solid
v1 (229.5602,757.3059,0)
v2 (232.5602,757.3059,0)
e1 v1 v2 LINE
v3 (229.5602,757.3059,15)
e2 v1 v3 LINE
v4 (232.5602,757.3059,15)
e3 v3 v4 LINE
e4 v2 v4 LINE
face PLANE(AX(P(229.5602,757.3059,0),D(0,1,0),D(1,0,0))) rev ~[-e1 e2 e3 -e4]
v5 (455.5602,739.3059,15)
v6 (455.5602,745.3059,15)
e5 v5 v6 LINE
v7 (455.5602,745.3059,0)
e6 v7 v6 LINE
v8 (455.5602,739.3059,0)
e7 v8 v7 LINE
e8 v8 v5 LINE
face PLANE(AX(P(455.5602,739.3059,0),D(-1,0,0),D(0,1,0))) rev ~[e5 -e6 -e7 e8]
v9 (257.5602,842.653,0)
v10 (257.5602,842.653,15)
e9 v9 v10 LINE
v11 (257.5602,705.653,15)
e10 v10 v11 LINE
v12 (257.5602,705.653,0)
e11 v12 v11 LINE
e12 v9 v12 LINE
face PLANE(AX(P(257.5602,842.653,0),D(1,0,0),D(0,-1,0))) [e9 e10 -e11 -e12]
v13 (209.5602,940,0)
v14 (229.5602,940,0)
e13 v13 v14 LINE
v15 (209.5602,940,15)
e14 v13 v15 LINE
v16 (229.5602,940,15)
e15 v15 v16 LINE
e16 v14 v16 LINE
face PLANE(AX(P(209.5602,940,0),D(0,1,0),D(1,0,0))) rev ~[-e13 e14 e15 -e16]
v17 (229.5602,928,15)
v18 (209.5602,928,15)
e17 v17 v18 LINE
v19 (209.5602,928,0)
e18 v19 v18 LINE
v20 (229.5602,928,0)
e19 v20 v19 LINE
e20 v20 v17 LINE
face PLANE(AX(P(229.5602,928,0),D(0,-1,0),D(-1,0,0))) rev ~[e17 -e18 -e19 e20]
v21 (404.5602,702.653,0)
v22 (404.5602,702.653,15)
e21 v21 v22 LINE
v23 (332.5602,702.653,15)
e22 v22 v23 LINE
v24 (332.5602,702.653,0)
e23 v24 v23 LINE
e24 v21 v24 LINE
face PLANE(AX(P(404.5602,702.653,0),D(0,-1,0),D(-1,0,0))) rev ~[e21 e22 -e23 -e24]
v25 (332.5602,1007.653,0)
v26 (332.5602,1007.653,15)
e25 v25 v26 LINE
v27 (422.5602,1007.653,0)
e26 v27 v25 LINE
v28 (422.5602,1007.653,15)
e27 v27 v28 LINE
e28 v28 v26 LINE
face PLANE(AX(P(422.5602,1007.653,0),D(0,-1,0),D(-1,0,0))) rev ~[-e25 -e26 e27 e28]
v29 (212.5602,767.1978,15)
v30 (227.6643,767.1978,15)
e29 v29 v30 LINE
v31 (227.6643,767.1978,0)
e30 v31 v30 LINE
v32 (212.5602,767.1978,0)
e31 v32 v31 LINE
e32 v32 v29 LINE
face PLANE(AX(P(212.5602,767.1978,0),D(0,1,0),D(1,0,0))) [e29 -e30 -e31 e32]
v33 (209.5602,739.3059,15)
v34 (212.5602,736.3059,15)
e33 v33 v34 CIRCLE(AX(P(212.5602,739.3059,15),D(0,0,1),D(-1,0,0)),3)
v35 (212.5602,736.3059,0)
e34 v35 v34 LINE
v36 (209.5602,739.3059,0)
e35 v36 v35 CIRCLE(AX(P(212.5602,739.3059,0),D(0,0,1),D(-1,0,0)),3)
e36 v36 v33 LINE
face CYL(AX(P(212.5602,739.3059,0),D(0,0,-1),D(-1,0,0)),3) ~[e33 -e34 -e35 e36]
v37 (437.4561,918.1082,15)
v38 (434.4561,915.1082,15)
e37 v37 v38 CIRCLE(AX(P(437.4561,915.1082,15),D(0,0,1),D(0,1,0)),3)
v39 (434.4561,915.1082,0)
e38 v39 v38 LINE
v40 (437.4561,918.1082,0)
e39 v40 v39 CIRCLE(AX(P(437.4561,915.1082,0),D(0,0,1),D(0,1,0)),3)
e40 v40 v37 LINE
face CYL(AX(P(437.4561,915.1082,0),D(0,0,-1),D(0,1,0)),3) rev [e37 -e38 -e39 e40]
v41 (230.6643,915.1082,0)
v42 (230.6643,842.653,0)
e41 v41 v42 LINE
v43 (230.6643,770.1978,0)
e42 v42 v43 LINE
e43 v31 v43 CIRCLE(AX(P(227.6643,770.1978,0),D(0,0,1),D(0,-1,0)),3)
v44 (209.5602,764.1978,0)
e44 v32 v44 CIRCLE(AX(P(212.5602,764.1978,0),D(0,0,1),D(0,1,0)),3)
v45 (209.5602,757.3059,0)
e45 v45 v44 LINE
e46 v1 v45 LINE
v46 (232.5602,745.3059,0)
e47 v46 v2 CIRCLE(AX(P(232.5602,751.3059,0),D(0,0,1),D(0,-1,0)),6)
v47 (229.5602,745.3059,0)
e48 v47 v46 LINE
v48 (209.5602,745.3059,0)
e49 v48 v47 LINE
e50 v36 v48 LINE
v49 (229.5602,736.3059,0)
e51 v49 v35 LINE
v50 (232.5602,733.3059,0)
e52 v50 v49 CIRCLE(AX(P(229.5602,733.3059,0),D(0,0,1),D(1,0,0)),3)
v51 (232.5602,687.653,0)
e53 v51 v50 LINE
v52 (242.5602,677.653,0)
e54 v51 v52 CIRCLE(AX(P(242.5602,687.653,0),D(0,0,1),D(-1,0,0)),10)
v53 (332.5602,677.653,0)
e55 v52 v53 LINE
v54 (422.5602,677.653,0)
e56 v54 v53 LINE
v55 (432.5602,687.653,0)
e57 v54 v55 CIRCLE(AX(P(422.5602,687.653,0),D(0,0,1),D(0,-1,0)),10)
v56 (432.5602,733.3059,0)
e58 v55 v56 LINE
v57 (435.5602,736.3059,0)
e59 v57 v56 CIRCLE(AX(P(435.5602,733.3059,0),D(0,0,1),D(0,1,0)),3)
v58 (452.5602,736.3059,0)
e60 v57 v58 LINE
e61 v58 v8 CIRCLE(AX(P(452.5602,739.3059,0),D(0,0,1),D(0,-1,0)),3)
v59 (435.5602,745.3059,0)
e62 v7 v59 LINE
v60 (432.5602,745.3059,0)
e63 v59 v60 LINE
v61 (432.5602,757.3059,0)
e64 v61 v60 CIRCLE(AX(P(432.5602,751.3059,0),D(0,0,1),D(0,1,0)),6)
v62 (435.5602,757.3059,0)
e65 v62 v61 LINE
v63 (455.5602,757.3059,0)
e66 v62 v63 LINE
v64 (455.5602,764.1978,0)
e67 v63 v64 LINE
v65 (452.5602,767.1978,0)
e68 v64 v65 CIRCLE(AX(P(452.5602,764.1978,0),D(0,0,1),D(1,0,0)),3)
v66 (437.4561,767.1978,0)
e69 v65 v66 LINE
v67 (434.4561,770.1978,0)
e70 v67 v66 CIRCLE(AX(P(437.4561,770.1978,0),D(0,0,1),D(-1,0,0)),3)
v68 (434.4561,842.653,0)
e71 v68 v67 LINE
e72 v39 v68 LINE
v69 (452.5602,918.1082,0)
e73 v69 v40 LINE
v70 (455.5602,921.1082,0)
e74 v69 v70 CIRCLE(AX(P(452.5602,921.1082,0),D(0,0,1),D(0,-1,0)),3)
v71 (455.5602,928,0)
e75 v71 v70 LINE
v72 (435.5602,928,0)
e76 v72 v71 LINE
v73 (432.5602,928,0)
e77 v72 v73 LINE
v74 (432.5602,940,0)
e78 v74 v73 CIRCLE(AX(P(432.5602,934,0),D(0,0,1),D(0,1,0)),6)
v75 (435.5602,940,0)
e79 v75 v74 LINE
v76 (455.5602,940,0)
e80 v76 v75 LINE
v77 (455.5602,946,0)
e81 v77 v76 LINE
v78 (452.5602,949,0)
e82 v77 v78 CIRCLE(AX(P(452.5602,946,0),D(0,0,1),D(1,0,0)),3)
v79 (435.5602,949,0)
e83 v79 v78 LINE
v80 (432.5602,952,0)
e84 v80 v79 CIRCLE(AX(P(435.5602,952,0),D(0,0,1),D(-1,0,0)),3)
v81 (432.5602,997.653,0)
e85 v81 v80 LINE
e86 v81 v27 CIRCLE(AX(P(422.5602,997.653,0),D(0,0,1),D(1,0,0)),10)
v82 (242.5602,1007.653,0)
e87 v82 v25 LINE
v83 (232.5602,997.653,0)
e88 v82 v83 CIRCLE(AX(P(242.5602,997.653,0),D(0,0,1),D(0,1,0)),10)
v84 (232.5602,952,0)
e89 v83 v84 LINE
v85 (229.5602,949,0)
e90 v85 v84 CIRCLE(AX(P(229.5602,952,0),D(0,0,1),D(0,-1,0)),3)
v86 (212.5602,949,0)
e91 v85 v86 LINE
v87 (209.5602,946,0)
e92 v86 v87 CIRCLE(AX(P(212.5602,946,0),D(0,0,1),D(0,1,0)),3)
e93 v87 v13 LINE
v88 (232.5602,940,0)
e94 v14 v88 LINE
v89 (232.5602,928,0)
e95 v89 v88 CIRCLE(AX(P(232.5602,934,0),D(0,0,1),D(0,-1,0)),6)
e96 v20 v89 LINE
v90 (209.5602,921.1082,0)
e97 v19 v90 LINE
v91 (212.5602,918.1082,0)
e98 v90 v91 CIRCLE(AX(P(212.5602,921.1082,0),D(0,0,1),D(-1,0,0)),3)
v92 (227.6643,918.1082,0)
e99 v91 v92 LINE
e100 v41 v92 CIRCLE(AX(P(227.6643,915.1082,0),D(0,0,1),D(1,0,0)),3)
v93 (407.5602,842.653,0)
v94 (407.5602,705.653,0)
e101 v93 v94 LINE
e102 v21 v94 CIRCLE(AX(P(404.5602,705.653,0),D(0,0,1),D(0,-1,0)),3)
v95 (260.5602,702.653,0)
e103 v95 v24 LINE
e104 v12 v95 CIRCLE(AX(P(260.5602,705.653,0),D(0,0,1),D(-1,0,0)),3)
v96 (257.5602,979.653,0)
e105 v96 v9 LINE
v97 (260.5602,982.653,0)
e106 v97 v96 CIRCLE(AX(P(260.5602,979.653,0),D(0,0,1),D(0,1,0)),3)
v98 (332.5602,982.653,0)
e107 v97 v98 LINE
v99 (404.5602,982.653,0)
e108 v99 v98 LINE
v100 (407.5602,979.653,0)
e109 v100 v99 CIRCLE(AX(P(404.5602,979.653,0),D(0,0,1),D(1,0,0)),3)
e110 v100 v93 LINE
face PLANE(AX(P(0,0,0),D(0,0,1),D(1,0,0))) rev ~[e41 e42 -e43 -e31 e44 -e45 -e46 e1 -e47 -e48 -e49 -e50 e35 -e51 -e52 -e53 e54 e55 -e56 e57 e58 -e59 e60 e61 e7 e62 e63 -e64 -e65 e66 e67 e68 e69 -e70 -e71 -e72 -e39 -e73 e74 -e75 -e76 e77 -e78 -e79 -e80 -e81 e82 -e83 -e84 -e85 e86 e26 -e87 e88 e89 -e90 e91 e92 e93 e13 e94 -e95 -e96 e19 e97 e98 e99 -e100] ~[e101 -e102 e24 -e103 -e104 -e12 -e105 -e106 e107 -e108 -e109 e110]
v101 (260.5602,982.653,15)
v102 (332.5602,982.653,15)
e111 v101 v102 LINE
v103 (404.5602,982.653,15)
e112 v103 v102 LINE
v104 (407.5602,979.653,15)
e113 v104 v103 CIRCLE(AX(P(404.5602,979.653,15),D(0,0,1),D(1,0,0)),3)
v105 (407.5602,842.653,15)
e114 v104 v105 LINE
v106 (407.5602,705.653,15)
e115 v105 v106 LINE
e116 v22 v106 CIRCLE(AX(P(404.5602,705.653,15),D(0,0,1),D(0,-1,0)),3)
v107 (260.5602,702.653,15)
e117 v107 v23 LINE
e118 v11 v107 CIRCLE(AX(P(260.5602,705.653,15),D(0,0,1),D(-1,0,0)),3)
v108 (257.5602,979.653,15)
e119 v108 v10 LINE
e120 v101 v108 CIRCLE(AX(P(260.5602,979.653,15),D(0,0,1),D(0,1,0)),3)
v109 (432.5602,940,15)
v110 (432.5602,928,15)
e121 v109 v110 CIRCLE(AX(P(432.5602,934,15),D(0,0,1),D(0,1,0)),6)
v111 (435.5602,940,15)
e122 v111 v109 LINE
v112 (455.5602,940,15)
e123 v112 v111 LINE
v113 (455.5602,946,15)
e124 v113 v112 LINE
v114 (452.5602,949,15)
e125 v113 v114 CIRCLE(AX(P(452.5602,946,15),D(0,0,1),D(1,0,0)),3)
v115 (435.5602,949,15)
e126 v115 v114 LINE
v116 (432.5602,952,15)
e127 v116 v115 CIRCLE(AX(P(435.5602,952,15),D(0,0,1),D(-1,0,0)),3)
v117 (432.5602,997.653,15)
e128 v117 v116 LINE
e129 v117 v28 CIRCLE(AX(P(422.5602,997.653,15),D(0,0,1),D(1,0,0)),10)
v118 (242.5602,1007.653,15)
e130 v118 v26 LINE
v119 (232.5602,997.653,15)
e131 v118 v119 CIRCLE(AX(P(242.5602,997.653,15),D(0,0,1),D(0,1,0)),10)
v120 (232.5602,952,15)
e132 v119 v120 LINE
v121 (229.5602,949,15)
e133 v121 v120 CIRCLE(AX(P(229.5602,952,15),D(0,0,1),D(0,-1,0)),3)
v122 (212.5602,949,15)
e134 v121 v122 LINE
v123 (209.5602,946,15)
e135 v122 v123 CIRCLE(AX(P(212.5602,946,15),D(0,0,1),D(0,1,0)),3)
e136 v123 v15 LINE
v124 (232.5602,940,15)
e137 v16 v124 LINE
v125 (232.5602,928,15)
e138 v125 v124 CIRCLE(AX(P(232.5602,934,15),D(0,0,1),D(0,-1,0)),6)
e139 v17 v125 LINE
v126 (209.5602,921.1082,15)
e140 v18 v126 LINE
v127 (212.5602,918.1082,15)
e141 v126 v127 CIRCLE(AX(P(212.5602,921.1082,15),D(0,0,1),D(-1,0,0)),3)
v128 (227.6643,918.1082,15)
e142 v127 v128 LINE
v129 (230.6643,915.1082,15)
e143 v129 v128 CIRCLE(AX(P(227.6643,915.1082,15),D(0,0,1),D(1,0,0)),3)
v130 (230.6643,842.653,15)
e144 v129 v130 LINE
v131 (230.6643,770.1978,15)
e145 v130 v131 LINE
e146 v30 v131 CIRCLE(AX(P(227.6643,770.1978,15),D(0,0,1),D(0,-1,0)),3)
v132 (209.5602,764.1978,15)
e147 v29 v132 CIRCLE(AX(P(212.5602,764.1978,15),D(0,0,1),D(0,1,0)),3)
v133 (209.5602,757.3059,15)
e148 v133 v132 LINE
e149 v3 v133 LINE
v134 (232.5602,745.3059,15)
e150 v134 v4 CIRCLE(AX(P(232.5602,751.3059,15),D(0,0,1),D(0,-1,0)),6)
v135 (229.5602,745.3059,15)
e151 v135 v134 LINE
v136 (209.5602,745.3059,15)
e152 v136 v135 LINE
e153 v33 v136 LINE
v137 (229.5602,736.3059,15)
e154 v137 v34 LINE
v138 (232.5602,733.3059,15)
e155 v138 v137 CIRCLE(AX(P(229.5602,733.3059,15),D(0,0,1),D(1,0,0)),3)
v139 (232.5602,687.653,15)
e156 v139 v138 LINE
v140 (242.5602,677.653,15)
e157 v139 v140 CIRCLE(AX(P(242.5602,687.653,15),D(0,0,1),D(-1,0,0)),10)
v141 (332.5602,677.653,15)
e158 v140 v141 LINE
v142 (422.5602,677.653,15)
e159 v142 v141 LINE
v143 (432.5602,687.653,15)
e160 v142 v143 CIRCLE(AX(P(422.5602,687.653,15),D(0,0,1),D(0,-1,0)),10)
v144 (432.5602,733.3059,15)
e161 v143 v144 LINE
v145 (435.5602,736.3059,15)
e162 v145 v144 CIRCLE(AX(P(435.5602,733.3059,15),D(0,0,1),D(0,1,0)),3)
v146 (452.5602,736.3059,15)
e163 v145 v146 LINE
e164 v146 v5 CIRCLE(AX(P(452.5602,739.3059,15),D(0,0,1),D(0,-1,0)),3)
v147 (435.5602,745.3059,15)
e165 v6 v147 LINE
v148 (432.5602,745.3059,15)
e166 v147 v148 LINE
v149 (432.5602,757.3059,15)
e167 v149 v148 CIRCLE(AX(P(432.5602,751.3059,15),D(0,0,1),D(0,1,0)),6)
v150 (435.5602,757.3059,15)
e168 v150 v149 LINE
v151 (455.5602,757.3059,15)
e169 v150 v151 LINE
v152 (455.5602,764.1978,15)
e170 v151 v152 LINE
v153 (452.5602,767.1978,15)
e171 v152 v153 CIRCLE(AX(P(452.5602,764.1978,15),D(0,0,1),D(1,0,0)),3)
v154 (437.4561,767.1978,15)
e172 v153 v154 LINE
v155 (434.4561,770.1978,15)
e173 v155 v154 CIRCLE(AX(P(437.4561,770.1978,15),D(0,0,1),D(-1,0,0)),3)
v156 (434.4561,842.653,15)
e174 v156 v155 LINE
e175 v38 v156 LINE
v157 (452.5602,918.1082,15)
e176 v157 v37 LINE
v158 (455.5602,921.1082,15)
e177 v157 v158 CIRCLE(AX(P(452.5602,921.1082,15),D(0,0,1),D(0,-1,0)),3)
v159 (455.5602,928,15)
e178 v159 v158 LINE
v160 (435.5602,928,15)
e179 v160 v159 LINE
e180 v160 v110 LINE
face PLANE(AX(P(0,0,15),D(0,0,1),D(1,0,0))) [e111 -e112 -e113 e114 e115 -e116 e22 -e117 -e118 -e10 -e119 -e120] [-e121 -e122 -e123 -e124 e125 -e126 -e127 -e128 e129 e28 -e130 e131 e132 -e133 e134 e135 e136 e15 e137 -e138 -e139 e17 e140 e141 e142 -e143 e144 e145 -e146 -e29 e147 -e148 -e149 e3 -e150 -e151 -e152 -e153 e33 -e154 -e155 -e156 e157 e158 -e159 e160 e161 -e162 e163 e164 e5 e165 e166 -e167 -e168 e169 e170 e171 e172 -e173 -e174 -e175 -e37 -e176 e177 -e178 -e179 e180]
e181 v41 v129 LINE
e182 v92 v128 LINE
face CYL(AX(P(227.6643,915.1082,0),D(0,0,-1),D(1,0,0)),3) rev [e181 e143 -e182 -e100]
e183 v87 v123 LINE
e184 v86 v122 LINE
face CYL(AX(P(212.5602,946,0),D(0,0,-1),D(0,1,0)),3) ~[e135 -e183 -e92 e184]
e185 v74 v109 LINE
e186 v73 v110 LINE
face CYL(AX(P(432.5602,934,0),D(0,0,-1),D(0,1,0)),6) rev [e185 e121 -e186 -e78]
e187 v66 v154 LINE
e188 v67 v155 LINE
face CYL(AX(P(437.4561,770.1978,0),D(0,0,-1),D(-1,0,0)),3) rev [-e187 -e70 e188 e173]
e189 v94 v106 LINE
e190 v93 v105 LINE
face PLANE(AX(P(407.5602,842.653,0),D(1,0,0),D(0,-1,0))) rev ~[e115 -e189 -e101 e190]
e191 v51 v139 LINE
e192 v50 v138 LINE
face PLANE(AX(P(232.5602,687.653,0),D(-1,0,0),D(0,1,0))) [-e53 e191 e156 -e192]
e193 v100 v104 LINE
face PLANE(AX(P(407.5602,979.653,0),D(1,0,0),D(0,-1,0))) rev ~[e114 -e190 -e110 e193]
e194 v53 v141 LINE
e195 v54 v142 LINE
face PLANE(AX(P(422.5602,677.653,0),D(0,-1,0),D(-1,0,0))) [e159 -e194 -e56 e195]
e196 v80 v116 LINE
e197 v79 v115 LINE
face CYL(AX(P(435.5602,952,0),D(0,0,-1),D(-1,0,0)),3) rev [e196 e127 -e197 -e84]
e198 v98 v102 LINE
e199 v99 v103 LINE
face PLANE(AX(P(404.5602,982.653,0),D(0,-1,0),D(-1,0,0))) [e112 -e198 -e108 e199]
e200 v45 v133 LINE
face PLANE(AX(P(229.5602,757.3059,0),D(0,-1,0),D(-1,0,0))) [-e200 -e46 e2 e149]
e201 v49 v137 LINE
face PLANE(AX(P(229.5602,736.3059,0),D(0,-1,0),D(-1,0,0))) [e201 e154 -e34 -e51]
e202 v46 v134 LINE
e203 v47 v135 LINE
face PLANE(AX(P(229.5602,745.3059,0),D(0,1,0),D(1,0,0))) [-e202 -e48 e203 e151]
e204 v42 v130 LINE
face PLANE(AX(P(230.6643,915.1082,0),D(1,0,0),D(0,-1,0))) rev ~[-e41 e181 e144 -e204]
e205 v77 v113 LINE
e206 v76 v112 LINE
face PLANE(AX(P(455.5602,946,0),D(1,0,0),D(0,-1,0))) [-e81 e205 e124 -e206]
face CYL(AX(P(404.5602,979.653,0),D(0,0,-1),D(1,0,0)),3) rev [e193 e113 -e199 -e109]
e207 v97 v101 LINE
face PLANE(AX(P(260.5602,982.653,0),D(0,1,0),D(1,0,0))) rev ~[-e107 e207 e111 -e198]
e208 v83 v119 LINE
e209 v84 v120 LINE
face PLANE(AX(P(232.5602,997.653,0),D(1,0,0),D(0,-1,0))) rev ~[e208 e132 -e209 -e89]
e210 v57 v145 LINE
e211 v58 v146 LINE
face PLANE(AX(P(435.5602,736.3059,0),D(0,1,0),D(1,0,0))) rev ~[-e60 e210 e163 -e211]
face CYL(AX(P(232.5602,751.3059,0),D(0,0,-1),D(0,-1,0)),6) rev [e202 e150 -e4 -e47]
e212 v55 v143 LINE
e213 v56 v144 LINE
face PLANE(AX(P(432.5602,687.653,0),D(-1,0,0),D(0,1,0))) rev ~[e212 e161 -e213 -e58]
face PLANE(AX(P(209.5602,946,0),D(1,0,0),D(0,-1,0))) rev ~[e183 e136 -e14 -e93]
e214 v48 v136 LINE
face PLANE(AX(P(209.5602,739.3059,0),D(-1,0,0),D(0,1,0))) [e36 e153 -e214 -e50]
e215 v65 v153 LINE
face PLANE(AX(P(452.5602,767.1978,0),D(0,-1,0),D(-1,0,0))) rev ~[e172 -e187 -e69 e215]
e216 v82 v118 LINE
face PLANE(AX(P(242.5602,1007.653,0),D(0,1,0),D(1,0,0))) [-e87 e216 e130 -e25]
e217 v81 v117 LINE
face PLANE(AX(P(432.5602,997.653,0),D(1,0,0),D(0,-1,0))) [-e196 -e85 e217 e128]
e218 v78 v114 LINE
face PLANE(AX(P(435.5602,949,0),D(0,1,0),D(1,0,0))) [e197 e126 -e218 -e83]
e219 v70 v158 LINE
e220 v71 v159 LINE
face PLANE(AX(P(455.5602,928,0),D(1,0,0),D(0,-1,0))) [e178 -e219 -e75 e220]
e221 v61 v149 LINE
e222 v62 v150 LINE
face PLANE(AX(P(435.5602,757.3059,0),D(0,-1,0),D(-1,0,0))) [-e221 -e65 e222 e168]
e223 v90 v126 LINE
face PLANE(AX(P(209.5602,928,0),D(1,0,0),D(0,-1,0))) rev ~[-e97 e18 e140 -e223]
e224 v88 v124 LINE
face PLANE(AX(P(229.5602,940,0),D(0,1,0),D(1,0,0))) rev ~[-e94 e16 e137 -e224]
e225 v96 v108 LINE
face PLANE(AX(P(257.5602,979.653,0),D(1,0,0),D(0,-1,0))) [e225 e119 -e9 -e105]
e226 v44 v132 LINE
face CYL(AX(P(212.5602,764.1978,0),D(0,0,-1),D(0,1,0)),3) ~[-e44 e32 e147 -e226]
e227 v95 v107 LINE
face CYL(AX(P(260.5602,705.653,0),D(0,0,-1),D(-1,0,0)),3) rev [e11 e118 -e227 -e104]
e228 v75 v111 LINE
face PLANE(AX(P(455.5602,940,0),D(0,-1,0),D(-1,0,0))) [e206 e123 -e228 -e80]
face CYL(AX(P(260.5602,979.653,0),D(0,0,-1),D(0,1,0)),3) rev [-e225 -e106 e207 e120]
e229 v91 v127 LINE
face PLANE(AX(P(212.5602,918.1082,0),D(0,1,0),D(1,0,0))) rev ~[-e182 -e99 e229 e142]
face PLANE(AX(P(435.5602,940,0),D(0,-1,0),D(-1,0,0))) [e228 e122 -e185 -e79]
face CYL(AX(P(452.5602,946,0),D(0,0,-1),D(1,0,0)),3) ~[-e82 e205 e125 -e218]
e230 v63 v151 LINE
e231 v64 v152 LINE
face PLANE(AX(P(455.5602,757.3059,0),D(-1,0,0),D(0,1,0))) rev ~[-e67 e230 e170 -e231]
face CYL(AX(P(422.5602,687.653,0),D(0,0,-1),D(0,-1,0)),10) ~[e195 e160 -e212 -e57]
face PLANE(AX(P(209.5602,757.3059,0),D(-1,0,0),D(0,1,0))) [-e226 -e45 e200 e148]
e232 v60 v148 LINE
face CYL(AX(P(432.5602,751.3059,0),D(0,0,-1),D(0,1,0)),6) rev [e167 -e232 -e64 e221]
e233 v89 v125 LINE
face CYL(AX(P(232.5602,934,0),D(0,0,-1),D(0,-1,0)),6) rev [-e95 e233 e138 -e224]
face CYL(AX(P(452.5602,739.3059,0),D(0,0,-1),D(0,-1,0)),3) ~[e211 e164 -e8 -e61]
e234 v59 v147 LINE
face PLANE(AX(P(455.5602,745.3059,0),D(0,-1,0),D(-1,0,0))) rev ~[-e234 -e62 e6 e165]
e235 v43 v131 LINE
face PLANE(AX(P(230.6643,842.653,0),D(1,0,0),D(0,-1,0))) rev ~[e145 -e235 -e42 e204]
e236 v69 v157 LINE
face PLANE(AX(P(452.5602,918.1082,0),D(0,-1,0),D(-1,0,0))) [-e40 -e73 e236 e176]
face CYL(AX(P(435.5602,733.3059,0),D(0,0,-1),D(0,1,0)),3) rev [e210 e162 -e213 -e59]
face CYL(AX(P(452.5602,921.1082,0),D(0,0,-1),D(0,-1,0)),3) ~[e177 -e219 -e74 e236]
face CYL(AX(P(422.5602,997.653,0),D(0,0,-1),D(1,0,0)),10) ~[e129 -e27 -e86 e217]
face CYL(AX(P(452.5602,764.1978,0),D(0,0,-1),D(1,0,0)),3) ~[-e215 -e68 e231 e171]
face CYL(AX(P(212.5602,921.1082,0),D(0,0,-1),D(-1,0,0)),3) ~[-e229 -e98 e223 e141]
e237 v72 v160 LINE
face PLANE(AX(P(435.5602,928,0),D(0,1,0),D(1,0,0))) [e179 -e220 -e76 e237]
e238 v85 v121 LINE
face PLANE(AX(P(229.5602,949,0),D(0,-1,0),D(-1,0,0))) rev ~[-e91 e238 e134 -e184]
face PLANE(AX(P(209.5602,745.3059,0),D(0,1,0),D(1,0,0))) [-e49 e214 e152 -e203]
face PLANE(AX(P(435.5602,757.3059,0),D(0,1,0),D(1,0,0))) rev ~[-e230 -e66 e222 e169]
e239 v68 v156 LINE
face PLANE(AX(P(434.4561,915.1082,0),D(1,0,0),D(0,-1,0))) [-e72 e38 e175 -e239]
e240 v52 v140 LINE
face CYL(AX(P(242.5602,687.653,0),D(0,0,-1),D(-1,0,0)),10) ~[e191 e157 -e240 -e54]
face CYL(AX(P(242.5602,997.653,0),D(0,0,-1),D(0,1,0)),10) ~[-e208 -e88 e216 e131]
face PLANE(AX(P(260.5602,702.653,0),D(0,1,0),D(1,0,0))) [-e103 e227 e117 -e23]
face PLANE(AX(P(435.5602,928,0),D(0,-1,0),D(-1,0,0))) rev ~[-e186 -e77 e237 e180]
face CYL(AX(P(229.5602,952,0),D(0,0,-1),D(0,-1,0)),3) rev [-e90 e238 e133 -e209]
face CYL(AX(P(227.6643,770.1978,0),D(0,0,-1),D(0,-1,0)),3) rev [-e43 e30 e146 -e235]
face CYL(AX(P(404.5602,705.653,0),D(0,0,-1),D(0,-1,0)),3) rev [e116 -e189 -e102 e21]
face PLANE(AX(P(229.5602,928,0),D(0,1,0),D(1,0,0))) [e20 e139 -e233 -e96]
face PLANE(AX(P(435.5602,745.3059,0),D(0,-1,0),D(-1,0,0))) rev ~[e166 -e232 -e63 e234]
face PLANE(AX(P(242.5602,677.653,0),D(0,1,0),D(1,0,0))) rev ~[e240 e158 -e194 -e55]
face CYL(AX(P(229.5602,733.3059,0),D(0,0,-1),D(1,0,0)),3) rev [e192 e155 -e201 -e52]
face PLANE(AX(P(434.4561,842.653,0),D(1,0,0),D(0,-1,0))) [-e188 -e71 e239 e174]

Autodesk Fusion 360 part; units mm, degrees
sketch "Sketch1" plane through (0, 0, 0) normal (0, 0, 1) x (1, 0, 0)
  line L0 (242.5602, 1007.653) -> (332.5602, 1007.653)
  line L1 (232.5602, 997.653) -> (232.5602, 952)
  line L2 (229.5602, 949) -> (212.5602, 949)
  line L3 (209.5602, 946) -> (209.5602, 940)
  line L4 (209.5602, 940) -> (229.5602, 940)
  arc A0 (242.5602, 1007.653) -> (232.5602, 997.653) centre (242.5602, 997.653) ccw
  line L5 (260.5602, 982.653) -> (332.5602, 982.653)
  line L6 (229.5602, 928) -> (209.5602, 928)
  line L7 (209.5602, 928) -> (209.5602, 921.1082)
  line L8 (212.5602, 918.1082) -> (227.6643, 918.1082)
  line L9 (229.5602, 940) -> (232.5602, 940)
  line L10 (229.5602, 928) -> (232.5602, 928)
  arc A1 (232.5602, 928) -> (232.5602, 940) centre (232.5602, 934) ccw
  line L11 (230.6643, 915.1082) -> (230.6643, 842.653)
  line L12 (257.5602, 979.653) -> (257.5602, 842.653)
  arc A2 (229.5602, 949) -> (232.5602, 952) centre (229.5602, 952) ccw
  arc A3 (230.6643, 915.1082) -> (227.6643, 918.1082) centre (227.6643, 915.1082) ccw
  arc A4 (212.5602, 949) -> (209.5602, 946) centre (212.5602, 946) ccw
  arc A5 (209.5602, 921.1082) -> (212.5602, 918.1082) centre (212.5602, 921.1082) ccw
  line L13 (435.5602, 949) -> (452.5602, 949)
  arc A6 (432.5602, 940) -> (432.5602, 928) centre (432.5602, 934) ccw
  line L14 (435.5602, 928) -> (432.5602, 928)
  line L15 (407.5602, 979.653) -> (407.5602, 842.653)
  line L16 (434.4561, 915.1082) -> (434.4561, 842.653)
  arc A7 (432.5602, 952) -> (435.5602, 949) centre (435.5602, 952) ccw
  line L17 (452.5602, 918.1082) -> (437.4561, 918.1082)
  arc A8 (432.5602, 997.653) -> (422.5602, 1007.653) centre (422.5602, 997.653) ccw
  line L18 (435.5602, 940) -> (432.5602, 940)
  arc A9 (437.4561, 918.1082) -> (434.4561, 915.1082) centre (437.4561, 915.1082) ccw
  arc A10 (452.5602, 918.1082) -> (455.5602, 921.1082) centre (452.5602, 921.1082) ccw
  line L19 (455.5602, 940) -> (435.5602, 940)
  line L20 (455.5602, 946) -> (455.5602, 940)
  line L21 (455.5602, 928) -> (455.5602, 921.1082)
  line L22 (422.5602, 1007.653) -> (332.5602, 1007.653)
  line L23 (404.5602, 982.653) -> (332.5602, 982.653)
  line L24 (432.5602, 997.653) -> (432.5602, 952)
  line L25 (435.5602, 928) -> (455.5602, 928)
  arc A11 (455.5602, 946) -> (452.5602, 949) centre (452.5602, 946) ccw
  line L26 (435.5602, 757.3059) -> (432.5602, 757.3059)
  line L27 (232.5602, 687.653) -> (232.5602, 733.3059)
  arc A12 (227.6643, 767.1978) -> (230.6643, 770.1978) centre (227.6643, 770.1978) ccw
  arc A13 (435.5602, 736.3059) -> (432.5602, 733.3059) centre (435.5602, 733.3059) ccw
  line L28 (212.5602, 767.1978) -> (227.6643, 767.1978)
  line L29 (455.5602, 757.3059) -> (455.5602, 764.1978)
  line L30 (229.5602, 757.3059) -> (232.5602, 757.3059)
  line L31 (435.5602, 736.3059) -> (452.5602, 736.3059)
  arc A14 (422.5602, 677.653) -> (432.5602, 687.653) centre (422.5602, 687.653) ccw
  line L32 (209.5602, 745.3059) -> (229.5602, 745.3059)
  arc A15 (209.5602, 739.3059) -> (212.5602, 736.3059) centre (212.5602, 739.3059) ccw
  arc A16 (232.5602, 733.3059) -> (229.5602, 736.3059) centre (229.5602, 733.3059) ccw
  arc A17 (232.5602, 687.653) -> (242.5602, 677.653) centre (242.5602, 687.653) ccw
  line L33 (455.5602, 739.3059) -> (455.5602, 745.3059)
  arc A18 (455.5602, 764.1978) -> (452.5602, 767.1978) centre (452.5602, 764.1978) ccw
  line L34 (209.5602, 757.3059) -> (209.5602, 764.1978)
  line L35 (229.5602, 745.3059) -> (232.5602, 745.3059)
  line L36 (209.5602, 739.3059) -> (209.5602, 745.3059)
  arc A19 (432.5602, 757.3059) -> (432.5602, 745.3059) centre (432.5602, 751.3059) ccw
  line L37 (455.5602, 745.3059) -> (435.5602, 745.3059)
  arc A20 (434.4561, 770.1978) -> (437.4561, 767.1978) centre (437.4561, 770.1978) ccw
  line L38 (435.5602, 757.3059) -> (455.5602, 757.3059)
  line L39 (432.5602, 687.653) -> (432.5602, 733.3059)
  line L40 (452.5602, 767.1978) -> (437.4561, 767.1978)
  line L41 (435.5602, 745.3059) -> (432.5602, 745.3059)
  arc A21 (452.5602, 736.3059) -> (455.5602, 739.3059) centre (452.5602, 739.3059) ccw
  arc A22 (212.5602, 767.1978) -> (209.5602, 764.1978) centre (212.5602, 764.1978) ccw
  line L42 (229.5602, 736.3059) -> (212.5602, 736.3059)
  line L43 (260.5602, 702.653) -> (332.5602, 702.653)
  line L44 (404.5602, 702.653) -> (332.5602, 702.653)
  arc A23 (232.5602, 745.3059) -> (232.5602, 757.3059) centre (232.5602, 751.3059) ccw
  line L45 (242.5602, 677.653) -> (332.5602, 677.653)
  line L46 (422.5602, 677.653) -> (332.5602, 677.653)
  line L47 (229.5602, 757.3059) -> (209.5602, 757.3059)
  line L48 (230.6643, 842.653) -> (230.6643, 770.1978)
  line L49 (257.5602, 842.653) -> (257.5602, 705.653)
  line L50 (407.5602, 842.653) -> (407.5602, 705.653)
  line L51 (434.4561, 842.653) -> (434.4561, 770.1978)
  arc A24 (407.5602, 979.653) -> (404.5602, 982.653) centre (404.5602, 979.653) ccw
  arc A25 (404.5602, 702.653) -> (407.5602, 705.653) centre (404.5602, 705.653) ccw
  arc A26 (260.5602, 982.653) -> (257.5602, 979.653) centre (260.5602, 979.653) ccw
  arc A27 (257.5602, 705.653) -> (260.5602, 702.653) centre (260.5602, 705.653) ccw
  point P0 (750, 0)
  point P1 (232.5602, 1007.653)
  point P2 (432.5602, 1007.653)
  point P3 (232.5602, 677.653)
  point P4 (432.5602, 677.653)
  dimension "d18" = 10
  dimension "d28" = 25
  dimension "d59" = 3
  dimension "d60" = 3
  dimension "d61" = 3
  dimension "d62" = 3
  dimension "d63" = 3
  dimension "d64" = 3
  dimension "d65" = 3
  dimension "d66" = 3
extrude "Extrude1" add sketch "Sketch1" along normal blind 15
